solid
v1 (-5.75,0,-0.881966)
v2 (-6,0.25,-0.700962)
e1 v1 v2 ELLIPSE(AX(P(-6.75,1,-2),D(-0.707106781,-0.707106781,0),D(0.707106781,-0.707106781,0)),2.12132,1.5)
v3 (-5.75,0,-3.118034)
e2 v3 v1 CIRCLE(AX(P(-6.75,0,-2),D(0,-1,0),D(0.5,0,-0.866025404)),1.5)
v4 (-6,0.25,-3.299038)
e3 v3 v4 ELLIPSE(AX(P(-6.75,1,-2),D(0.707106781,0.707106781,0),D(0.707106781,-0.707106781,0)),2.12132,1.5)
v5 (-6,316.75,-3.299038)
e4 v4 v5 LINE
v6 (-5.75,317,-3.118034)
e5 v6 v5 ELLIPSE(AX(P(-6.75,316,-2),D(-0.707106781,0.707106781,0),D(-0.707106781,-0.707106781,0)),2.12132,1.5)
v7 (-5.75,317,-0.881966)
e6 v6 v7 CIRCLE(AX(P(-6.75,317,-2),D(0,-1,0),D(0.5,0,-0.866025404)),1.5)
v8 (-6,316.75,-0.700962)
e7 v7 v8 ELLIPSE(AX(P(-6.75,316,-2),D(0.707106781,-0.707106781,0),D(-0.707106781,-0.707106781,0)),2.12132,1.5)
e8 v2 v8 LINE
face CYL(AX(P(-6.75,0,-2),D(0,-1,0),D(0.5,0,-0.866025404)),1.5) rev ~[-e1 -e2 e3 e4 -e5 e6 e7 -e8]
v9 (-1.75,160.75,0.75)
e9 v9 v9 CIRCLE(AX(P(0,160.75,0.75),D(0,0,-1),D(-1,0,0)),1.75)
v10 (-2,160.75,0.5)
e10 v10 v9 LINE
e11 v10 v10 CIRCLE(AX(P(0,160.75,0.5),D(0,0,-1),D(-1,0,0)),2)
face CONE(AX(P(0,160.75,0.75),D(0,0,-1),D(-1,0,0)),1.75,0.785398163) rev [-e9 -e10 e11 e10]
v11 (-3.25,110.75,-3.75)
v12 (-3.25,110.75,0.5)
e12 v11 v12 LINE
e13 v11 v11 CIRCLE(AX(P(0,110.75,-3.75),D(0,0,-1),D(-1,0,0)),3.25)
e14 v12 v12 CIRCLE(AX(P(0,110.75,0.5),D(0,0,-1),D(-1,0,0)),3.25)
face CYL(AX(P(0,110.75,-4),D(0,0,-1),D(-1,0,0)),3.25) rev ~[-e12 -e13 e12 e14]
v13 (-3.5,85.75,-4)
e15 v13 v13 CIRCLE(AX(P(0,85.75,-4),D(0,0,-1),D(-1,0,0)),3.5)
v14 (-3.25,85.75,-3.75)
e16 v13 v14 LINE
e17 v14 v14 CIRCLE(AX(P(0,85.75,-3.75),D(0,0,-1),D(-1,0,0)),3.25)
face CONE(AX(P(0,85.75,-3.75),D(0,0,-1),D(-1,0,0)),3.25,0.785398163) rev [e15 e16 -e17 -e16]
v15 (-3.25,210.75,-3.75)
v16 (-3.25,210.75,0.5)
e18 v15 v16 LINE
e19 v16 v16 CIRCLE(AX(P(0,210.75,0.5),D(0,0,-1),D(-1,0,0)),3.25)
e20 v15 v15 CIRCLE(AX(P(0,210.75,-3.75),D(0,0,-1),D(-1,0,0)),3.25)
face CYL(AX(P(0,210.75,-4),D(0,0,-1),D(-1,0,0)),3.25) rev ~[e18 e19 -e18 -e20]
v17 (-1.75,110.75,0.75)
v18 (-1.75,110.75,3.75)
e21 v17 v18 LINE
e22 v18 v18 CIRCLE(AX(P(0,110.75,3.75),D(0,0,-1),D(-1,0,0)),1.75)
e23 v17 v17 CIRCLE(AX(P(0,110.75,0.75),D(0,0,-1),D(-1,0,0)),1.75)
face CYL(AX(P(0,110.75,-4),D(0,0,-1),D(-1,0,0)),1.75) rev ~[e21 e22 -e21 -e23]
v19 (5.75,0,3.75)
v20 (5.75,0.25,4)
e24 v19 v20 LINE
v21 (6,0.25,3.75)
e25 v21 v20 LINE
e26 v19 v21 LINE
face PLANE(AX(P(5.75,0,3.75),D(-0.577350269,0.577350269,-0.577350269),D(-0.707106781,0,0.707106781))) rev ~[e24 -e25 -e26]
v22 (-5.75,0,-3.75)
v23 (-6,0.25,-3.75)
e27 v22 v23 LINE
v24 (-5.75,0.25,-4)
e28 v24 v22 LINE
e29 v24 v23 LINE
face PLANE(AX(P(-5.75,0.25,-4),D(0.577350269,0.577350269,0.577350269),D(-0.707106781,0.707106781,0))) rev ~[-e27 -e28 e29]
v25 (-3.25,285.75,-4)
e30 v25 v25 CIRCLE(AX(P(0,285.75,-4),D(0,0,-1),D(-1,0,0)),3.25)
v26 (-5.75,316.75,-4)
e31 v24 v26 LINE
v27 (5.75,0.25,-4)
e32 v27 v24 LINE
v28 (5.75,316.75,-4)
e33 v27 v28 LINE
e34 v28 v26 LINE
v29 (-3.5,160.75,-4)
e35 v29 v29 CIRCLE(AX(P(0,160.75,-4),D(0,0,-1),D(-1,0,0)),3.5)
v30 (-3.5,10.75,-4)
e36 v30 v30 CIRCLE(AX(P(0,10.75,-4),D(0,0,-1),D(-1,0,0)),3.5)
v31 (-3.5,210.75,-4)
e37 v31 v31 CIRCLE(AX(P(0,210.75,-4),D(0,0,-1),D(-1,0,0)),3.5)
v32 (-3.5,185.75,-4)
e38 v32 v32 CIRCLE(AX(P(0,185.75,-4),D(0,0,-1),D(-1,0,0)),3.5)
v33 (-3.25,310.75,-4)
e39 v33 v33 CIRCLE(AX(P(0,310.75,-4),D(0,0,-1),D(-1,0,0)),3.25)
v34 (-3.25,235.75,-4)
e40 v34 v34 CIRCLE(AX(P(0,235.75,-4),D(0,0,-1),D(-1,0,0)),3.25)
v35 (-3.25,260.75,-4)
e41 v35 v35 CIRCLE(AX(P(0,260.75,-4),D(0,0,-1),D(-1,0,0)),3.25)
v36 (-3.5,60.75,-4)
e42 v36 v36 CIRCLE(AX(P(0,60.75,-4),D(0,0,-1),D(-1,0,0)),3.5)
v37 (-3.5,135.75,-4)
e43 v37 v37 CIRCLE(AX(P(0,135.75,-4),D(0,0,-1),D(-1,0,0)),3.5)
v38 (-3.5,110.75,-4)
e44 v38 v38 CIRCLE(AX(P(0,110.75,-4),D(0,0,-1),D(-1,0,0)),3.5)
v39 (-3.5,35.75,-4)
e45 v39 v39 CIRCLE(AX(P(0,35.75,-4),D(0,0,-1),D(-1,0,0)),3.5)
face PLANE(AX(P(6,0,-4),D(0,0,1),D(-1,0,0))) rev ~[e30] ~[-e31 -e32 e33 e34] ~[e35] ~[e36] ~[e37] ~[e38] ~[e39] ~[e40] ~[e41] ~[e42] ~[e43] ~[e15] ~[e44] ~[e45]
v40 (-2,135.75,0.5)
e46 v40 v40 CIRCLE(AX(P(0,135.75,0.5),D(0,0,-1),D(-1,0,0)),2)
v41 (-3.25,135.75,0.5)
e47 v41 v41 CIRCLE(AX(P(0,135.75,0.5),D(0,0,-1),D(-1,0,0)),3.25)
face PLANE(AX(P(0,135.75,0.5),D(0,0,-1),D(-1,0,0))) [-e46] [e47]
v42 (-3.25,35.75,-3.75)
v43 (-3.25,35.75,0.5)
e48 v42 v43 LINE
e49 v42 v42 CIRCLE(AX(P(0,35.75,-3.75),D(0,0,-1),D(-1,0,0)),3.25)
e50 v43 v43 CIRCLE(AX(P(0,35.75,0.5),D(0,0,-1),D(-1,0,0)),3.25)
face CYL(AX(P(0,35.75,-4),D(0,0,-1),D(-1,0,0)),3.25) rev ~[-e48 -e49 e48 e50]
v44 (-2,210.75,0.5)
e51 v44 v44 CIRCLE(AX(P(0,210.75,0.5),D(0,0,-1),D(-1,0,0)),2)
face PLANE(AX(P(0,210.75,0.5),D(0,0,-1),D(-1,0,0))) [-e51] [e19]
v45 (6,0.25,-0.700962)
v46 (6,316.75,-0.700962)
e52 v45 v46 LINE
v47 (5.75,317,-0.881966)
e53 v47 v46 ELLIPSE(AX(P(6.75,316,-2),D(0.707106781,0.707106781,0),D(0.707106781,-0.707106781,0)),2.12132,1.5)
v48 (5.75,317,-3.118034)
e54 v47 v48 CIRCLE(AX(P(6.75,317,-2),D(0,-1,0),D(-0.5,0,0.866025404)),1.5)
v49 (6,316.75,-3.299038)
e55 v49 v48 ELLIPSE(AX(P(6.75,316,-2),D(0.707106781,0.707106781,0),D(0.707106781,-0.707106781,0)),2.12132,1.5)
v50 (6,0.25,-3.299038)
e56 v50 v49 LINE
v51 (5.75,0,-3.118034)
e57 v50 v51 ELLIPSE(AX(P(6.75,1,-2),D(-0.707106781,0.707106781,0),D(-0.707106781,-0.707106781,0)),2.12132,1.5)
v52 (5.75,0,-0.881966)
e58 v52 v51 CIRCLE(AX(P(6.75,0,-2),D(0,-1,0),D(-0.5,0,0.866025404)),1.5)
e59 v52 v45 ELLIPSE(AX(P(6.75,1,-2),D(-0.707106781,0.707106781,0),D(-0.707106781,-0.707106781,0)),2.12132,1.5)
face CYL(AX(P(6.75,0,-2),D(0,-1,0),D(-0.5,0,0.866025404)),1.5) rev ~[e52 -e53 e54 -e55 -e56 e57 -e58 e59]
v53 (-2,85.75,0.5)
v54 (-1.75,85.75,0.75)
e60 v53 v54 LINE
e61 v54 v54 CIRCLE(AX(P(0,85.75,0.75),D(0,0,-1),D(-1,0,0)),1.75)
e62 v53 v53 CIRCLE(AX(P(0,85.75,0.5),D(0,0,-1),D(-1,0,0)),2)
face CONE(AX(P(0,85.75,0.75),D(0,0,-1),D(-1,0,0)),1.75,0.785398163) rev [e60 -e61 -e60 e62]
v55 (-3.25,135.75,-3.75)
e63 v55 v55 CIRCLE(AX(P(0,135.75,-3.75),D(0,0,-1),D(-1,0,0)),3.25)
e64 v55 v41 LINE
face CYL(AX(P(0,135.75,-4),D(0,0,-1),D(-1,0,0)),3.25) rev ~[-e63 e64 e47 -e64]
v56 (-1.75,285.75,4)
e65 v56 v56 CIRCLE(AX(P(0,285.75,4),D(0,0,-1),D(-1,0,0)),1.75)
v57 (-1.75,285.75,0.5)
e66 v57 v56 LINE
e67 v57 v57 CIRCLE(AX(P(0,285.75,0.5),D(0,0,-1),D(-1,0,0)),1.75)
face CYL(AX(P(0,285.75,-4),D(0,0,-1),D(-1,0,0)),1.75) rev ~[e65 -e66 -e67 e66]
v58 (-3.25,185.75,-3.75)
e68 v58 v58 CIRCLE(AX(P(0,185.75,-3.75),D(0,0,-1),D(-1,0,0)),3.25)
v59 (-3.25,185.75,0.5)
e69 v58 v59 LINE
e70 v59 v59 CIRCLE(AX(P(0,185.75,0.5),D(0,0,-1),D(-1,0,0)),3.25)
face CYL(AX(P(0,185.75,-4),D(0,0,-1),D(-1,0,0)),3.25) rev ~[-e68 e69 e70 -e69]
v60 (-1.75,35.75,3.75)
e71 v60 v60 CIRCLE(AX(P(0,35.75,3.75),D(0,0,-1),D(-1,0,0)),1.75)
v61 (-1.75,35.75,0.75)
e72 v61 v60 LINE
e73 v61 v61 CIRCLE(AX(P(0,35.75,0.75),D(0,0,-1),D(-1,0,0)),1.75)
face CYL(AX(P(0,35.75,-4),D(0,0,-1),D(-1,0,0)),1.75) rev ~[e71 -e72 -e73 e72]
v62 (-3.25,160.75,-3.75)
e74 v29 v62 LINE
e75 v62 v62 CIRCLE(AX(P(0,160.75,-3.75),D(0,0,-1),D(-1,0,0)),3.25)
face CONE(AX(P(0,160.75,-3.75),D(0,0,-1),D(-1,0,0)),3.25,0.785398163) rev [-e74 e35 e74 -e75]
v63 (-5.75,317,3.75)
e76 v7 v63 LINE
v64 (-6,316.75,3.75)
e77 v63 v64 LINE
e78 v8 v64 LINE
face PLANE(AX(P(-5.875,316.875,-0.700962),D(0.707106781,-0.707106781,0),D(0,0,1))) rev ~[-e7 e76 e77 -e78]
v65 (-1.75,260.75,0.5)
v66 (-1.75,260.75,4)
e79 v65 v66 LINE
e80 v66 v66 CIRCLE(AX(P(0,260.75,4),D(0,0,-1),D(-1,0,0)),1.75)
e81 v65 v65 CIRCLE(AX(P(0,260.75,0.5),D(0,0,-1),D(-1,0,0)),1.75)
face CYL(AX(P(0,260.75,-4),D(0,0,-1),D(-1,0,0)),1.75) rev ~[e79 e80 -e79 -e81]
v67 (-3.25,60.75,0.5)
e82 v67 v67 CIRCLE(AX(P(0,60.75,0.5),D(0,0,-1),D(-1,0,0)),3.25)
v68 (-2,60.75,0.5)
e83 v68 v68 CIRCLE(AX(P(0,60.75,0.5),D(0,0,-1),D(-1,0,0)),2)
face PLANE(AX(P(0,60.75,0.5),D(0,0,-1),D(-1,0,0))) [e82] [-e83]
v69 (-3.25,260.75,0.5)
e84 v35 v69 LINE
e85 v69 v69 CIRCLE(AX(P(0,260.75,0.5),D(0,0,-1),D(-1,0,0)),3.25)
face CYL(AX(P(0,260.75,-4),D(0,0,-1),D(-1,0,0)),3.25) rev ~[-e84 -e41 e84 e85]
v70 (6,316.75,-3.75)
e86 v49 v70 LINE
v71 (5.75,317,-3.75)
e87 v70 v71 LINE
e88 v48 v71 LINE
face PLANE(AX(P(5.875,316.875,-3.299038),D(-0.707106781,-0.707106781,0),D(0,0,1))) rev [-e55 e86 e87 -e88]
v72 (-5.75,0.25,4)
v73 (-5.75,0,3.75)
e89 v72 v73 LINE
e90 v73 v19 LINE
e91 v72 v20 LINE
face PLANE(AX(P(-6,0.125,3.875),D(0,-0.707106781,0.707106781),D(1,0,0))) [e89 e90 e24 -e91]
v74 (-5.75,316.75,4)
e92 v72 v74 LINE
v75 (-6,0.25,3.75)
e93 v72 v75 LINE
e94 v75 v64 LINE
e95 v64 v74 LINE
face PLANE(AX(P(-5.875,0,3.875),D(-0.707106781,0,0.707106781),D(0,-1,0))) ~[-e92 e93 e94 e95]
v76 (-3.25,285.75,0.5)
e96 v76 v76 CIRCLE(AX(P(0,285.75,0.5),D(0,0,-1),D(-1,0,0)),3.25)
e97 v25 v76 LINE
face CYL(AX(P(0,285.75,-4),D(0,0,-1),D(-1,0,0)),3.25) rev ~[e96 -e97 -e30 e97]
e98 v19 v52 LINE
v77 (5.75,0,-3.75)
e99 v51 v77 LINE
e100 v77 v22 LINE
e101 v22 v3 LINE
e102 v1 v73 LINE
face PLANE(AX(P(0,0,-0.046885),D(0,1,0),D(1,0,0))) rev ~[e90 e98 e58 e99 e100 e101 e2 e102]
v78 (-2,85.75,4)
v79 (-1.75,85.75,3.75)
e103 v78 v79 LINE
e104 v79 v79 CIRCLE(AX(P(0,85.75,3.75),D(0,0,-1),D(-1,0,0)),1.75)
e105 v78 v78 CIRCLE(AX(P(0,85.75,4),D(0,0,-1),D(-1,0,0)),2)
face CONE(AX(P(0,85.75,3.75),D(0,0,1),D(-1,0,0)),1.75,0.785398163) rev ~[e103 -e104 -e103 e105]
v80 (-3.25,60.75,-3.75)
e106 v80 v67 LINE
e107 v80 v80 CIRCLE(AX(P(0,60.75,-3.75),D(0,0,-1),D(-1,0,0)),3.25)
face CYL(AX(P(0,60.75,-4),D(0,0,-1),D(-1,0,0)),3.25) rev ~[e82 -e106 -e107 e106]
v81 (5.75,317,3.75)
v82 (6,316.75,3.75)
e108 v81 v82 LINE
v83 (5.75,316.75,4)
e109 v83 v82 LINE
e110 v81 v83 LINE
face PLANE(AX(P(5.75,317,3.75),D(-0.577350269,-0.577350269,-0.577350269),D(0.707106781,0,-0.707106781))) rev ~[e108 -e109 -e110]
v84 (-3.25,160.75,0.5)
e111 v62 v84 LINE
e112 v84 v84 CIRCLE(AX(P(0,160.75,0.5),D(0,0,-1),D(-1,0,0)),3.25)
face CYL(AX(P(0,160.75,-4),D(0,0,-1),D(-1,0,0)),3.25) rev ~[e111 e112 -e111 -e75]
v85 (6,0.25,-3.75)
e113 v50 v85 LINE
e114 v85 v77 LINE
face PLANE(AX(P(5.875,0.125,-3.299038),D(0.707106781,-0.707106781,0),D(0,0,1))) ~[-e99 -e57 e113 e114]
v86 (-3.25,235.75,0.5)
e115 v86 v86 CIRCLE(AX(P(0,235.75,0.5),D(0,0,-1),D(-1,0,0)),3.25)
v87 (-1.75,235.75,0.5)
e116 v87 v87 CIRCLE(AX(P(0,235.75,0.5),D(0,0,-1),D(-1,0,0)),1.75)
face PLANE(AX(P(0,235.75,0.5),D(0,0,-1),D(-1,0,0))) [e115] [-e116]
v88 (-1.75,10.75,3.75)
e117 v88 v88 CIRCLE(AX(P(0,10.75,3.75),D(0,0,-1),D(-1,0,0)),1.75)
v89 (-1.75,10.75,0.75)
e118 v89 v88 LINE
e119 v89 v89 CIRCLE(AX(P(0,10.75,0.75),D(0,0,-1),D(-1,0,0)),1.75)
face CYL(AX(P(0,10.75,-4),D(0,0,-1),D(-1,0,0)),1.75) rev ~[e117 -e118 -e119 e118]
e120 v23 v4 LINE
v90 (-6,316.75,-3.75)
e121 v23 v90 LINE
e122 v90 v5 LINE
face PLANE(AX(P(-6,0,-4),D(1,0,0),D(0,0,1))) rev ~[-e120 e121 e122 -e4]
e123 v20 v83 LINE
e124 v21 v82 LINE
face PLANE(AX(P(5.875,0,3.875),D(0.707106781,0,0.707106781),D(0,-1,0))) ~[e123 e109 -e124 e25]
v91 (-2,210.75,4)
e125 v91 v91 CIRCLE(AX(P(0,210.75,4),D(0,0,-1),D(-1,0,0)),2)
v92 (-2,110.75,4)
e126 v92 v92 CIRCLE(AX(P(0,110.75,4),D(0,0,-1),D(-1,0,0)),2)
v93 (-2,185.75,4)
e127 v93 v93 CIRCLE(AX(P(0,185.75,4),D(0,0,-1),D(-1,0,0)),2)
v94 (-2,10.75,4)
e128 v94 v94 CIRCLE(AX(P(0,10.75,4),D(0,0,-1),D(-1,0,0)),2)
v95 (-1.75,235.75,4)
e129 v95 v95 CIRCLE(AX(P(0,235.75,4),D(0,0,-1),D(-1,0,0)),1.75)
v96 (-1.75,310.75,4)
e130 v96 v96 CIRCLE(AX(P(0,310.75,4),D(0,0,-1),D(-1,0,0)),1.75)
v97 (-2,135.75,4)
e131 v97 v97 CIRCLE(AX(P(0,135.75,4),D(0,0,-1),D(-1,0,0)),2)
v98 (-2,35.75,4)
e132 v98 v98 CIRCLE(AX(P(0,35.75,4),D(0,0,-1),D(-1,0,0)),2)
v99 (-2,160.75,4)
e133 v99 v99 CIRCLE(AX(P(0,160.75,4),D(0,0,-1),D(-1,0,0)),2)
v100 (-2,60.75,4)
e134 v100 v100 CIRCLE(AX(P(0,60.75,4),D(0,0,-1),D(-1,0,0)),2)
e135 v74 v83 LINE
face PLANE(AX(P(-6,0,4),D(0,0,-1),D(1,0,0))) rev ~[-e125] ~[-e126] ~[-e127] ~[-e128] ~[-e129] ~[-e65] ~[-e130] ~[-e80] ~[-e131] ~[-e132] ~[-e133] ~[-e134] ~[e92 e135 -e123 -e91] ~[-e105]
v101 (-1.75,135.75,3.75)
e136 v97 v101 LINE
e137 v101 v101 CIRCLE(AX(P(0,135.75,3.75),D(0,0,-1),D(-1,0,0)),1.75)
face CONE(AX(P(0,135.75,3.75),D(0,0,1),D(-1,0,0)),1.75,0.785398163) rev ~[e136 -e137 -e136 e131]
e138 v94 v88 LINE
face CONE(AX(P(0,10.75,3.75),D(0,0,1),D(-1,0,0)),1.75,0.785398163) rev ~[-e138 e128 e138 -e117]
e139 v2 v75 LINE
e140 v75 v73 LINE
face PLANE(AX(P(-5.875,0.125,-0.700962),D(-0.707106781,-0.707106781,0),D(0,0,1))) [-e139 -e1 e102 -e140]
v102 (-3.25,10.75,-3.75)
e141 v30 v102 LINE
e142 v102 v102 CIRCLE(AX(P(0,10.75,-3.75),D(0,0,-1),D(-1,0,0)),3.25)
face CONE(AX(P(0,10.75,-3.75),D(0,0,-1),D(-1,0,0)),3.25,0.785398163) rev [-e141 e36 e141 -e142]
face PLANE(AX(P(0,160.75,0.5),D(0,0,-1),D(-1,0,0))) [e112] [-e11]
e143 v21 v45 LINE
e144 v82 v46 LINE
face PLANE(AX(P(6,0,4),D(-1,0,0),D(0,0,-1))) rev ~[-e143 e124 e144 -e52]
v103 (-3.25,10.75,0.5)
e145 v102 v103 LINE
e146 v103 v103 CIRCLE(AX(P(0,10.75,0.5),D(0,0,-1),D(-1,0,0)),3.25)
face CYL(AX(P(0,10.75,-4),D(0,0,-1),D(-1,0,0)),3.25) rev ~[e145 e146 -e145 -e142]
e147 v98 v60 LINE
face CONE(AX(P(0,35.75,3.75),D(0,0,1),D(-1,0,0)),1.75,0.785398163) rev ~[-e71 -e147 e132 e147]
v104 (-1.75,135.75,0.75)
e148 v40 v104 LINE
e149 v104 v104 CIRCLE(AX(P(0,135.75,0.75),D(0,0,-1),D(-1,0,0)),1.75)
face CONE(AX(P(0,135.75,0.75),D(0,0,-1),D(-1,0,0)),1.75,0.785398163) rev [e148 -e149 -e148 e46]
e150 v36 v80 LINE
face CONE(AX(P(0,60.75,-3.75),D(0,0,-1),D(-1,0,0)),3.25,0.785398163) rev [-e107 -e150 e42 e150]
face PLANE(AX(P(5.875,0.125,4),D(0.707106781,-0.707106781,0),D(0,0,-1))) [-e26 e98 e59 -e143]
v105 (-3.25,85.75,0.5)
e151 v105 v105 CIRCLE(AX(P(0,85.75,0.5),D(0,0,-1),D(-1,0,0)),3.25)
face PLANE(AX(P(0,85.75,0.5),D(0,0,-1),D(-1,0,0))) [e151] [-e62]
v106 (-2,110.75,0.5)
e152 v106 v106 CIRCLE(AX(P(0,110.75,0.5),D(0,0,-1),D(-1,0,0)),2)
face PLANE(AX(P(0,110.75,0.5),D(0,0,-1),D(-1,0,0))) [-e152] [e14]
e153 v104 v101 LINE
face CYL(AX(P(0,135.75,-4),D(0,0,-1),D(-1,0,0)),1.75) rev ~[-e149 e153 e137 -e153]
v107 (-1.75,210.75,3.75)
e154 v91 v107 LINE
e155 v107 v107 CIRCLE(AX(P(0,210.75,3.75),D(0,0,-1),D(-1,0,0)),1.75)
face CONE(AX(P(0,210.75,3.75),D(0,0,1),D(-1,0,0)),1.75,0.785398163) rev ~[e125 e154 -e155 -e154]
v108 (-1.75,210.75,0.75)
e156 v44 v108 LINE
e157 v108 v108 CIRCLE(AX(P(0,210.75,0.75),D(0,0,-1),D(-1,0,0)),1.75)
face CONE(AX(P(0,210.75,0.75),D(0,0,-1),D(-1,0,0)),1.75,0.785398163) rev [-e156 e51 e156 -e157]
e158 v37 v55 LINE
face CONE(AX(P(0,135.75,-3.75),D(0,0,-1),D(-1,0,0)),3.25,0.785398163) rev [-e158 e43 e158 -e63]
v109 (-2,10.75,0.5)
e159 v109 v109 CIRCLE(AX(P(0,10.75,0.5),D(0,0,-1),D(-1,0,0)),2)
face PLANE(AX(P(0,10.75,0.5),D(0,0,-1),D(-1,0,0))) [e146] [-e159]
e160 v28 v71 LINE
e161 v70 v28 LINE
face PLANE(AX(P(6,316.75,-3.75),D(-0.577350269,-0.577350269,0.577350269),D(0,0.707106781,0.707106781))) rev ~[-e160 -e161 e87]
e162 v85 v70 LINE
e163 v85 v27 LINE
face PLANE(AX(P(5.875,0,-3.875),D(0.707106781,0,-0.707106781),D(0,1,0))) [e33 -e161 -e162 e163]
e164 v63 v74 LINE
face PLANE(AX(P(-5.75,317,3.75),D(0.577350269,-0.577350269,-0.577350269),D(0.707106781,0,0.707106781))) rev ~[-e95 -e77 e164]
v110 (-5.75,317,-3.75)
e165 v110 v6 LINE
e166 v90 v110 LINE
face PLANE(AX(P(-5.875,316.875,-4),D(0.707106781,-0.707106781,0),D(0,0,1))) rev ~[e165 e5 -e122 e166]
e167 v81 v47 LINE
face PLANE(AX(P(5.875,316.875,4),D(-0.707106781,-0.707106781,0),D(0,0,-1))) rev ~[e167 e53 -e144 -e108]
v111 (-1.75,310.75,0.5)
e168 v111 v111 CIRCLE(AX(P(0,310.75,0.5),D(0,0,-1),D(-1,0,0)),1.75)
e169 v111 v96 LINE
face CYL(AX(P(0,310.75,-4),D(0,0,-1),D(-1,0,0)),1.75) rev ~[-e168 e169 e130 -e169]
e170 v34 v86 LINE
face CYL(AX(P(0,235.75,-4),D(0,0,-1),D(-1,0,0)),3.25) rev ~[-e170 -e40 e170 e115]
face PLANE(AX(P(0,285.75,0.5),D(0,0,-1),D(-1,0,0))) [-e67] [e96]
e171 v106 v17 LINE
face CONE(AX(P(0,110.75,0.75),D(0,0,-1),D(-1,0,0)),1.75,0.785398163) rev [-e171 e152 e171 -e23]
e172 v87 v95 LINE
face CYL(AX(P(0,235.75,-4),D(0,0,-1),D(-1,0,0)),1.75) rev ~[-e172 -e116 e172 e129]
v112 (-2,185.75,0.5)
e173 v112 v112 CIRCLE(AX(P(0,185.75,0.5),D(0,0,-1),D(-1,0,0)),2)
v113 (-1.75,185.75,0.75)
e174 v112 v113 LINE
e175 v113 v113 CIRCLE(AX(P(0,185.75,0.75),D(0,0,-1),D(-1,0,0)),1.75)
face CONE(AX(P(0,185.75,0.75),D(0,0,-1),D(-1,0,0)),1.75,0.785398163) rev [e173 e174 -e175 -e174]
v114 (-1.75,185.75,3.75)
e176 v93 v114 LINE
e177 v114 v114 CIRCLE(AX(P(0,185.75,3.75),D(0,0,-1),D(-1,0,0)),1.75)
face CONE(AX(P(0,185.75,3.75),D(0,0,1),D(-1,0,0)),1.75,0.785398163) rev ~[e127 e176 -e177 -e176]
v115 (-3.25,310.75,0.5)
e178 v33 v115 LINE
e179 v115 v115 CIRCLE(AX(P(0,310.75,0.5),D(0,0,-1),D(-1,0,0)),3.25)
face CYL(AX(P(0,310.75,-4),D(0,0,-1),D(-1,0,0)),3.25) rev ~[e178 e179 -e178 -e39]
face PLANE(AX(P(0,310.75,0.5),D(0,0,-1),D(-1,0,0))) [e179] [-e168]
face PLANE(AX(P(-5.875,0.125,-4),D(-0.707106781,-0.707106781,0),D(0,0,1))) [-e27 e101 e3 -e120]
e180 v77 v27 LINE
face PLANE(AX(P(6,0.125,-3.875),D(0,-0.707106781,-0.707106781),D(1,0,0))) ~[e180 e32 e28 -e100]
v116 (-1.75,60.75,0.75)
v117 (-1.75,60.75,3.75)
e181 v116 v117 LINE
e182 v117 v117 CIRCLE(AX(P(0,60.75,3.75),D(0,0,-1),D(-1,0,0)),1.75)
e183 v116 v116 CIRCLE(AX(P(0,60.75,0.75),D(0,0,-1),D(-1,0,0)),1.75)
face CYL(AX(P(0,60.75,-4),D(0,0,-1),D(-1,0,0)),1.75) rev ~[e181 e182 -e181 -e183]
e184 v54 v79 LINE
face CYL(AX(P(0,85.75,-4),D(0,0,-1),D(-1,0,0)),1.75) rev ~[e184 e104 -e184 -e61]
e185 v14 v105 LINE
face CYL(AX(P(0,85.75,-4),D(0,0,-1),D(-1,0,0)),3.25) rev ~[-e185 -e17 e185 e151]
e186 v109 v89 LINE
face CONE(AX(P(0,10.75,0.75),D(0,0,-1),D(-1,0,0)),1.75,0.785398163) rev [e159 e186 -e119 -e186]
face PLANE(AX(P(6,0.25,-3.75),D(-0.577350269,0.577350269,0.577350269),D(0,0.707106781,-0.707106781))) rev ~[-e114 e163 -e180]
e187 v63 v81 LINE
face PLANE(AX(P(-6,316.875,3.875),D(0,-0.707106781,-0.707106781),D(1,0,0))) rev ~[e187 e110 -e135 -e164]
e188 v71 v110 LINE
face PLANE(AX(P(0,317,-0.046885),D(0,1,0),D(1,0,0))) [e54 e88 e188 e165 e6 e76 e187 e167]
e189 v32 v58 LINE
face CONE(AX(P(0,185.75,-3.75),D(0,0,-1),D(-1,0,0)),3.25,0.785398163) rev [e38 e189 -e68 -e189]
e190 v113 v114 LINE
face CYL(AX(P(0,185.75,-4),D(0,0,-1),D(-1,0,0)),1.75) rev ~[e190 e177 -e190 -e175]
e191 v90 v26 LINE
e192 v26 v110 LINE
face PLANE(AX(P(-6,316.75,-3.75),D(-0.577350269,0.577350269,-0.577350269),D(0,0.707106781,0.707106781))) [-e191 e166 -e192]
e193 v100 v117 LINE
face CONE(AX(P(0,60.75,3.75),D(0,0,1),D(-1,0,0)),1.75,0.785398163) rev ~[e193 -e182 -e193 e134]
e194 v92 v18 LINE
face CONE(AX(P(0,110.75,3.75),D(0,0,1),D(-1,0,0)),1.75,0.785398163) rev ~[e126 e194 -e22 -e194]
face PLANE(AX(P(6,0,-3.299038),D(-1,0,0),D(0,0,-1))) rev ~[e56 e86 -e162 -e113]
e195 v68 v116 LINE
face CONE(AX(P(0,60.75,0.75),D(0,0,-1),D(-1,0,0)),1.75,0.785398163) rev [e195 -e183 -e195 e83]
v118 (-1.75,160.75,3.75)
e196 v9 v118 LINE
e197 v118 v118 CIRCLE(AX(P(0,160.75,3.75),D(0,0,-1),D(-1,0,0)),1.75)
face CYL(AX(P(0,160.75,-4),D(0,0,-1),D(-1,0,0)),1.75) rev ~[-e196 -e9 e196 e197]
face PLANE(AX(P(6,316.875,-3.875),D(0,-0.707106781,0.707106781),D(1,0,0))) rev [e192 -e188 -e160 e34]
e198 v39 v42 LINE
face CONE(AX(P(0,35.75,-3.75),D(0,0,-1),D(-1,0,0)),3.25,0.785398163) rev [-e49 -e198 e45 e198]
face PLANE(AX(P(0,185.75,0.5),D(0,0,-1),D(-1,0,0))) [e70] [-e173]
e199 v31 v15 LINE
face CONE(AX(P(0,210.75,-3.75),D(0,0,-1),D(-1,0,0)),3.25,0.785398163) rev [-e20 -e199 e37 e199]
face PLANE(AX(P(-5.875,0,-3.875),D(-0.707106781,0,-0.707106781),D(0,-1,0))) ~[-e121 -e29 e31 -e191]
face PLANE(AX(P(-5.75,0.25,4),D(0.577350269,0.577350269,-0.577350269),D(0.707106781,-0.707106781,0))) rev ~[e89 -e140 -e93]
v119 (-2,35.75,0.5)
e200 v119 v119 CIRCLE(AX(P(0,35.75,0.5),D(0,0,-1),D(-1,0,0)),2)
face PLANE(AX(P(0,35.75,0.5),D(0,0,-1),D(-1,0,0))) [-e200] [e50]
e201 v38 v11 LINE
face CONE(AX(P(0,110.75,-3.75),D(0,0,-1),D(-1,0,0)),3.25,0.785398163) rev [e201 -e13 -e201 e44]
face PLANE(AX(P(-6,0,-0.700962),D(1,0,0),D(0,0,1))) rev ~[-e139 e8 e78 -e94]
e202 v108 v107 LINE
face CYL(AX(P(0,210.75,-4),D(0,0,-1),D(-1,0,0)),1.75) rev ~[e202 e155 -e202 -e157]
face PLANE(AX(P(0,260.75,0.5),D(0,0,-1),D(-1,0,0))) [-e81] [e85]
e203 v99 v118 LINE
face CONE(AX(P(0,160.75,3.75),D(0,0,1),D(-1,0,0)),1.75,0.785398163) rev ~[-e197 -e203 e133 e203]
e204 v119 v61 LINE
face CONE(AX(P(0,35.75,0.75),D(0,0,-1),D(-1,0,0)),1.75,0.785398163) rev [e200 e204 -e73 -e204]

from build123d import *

# Parameters (mm, degrees)
BOSS_EXTRUDE1_DEPTH = 317
SKETCH3_R           = 1.75
CUT_EXTRUDE3_DEPTH  = 8.5
SKETCH3_6_R         = 3.25
SKETCH3_6_R_2       = 1.75
CUT_EXTRUDE4_DEPTH  = 4.5
CHAMFER3_SIZE       = 0.25


with BuildPart() as part:
    # Sketch1 → Boss-Extrude1 (new body)
    with BuildSketch(Plane(origin=(0, 0, 0), x_dir=(1, 0, 0), z_dir=(0, 1, 0))):
        with BuildLine():
            Line((6, 4), (-6, 4))
            Line((-6, 4), (-6, 3.299038106))
            ThreePointArc((-6, 3.299038106), (-5.25, 2), (-6, 0.700961894))
            Line((-6, 0.700961894), (-6, -4))
            Line((-6, -4), (6, -4))
            Line((6, -4), (6, 0.700961894))
            ThreePointArc((6, 0.700961894), (5.25, 2), (6, 3.299038106))
            Line((6, 3.299038106), (6, 4))
        make_face()
    extrude(amount=BOSS_EXTRUDE1_DEPTH)

    # Sketch3 → Cut-Extrude3 (cut)
    with BuildSketch(Plane(origin=(0, 0, -4), x_dir=(-1, 0, 0), z_dir=(0, 0, -1))):
        with Locations((0, 335.75)):
            Circle(SKETCH3_R)
        with Locations((0, 310.75)):
            Circle(SKETCH3_R)
        with Locations((0, 285.75)):
            Circle(SKETCH3_R)
        with Locations((0, 260.75)):
            Circle(SKETCH3_R)
        with Locations((0, 235.75)):
            Circle(SKETCH3_R)
        with Locations((0, 210.75)):
            Circle(SKETCH3_R)
        with Locations((0, 185.75)):
            Circle(SKETCH3_R)
        with Locations((0, 160.75)):
            Circle(SKETCH3_R)
        with Locations((0, 110.75)):
            Circle(SKETCH3_R)
        with Locations((0, 85.75)):
            Circle(SKETCH3_R)
        with Locations((0, 60.75)):
            Circle(SKETCH3_R)
        with Locations((0, 35.75)):
            Circle(SKETCH3_R)
        with Locations((0, 135.75)):
            Circle(SKETCH3_R)
        with Locations((0, 10.75)):
            Circle(SKETCH3_R)
    extrude(amount=-CUT_EXTRUDE3_DEPTH, mode=Mode.SUBTRACT)

    # Sketch3<6> → Cut-Extrude4 (cut)
    # profile 1 of 14: a face of its own
    with BuildSketch(Plane(origin=(0, 0, -4), x_dir=(-1, 0, 0), z_dir=(0, 0, -1))):
        with Locations((0, 10.75)):
            Circle(SKETCH3_6_R)
        with Locations((0, 10.75)):
            Circle(SKETCH3_6_R_2, mode=Mode.SUBTRACT)
    # profile 2 of 14: a face of its own
    with BuildSketch(Plane(origin=(0, 0, -4), x_dir=(-1, 0, 0), z_dir=(0, 0, -1))):
        with Locations((0, 35.75)):
            Circle(SKETCH3_6_R)
        with Locations((0, 35.75)):
            Circle(SKETCH3_6_R_2, mode=Mode.SUBTRACT)
    # profile 3 of 14: a face of its own
    with BuildSketch(Plane(origin=(0, 0, -4), x_dir=(-1, 0, 0), z_dir=(0, 0, -1))):
        with Locations((0, 60.75)):
            Circle(SKETCH3_6_R)
        with Locations((0, 60.75)):
            Circle(SKETCH3_6_R_2, mode=Mode.SUBTRACT)
    # profile 4 of 14: a face of its own
    with BuildSketch(Plane(origin=(0, 0, -4), x_dir=(-1, 0, 0), z_dir=(0, 0, -1))):
        with Locations((0, 85.75)):
            Circle(SKETCH3_6_R)
        with Locations((0, 85.75)):
            Circle(SKETCH3_6_R_2, mode=Mode.SUBTRACT)
    # profile 5 of 14: a face of its own
    with BuildSketch(Plane(origin=(0, 0, -4), x_dir=(-1, 0, 0), z_dir=(0, 0, -1))):
        with Locations((0, 110.75)):
            Circle(SKETCH3_6_R)
        with Locations((0, 110.75)):
            Circle(SKETCH3_6_R_2, mode=Mode.SUBTRACT)
    # profile 6 of 14: a face of its own
    with BuildSketch(Plane(origin=(0, 0, -4), x_dir=(-1, 0, 0), z_dir=(0, 0, -1))):
        with Locations((0, 135.75)):
            Circle(SKETCH3_6_R)
        with Locations((0, 135.75)):
            Circle(SKETCH3_6_R_2, mode=Mode.SUBTRACT)
    # profile 7 of 14: a face of its own
    with BuildSketch(Plane(origin=(0, 0, -4), x_dir=(-1, 0, 0), z_dir=(0, 0, -1))):
        with Locations((0, 160.75)):
            Circle(SKETCH3_6_R)
        with Locations((0, 160.75)):
            Circle(SKETCH3_6_R_2, mode=Mode.SUBTRACT)
    # profile 8 of 14: a face of its own
    with BuildSketch(Plane(origin=(0, 0, -4), x_dir=(-1, 0, 0), z_dir=(0, 0, -1))):
        with Locations((0, 185.75)):
            Circle(SKETCH3_6_R)
        with Locations((0, 185.75)):
            Circle(SKETCH3_6_R_2, mode=Mode.SUBTRACT)
    # profile 9 of 14: a face of its own
    with BuildSketch(Plane(origin=(0, 0, -4), x_dir=(-1, 0, 0), z_dir=(0, 0, -1))):
        with Locations((0, 210.75)):
            Circle(SKETCH3_6_R)
        with Locations((0, 210.75)):
            Circle(SKETCH3_6_R_2, mode=Mode.SUBTRACT)
    # profile 10 of 14: a face of its own
    with BuildSketch(Plane(origin=(0, 0, -4), x_dir=(-1, 0, 0), z_dir=(0, 0, -1))):
        with Locations((0, 235.75)):
            Circle(SKETCH3_6_R)
        with Locations((0, 235.75)):
            Circle(SKETCH3_6_R_2, mode=Mode.SUBTRACT)
    # profile 11 of 14: a face of its own
    with BuildSketch(Plane(origin=(0, 0, -4), x_dir=(-1, 0, 0), z_dir=(0, 0, -1))):
        with Locations((0, 260.75)):
            Circle(SKETCH3_6_R)
        with Locations((0, 260.75)):
            Circle(SKETCH3_6_R_2, mode=Mode.SUBTRACT)
    # profile 12 of 14: a face of its own
    with BuildSketch(Plane(origin=(0, 0, -4), x_dir=(-1, 0, 0), z_dir=(0, 0, -1))):
        with Locations((0, 285.75)):
            Circle(SKETCH3_6_R)
        with Locations((0, 285.75)):
            Circle(SKETCH3_6_R_2, mode=Mode.SUBTRACT)
    # profile 13 of 14: a face of its own
    with BuildSketch(Plane(origin=(0, 0, -4), x_dir=(-1, 0, 0), z_dir=(0, 0, -1))):
        with Locations((0, 310.75)):
            Circle(SKETCH3_6_R)
        with Locations((0, 310.75)):
            Circle(SKETCH3_6_R_2, mode=Mode.SUBTRACT)
    # profile 14 of 14: a face of its own
    with BuildSketch(Plane(origin=(0, 0, -4), x_dir=(-1, 0, 0), z_dir=(0, 0, -1))):
        with Locations((0, 335.75)):
            Circle(SKETCH3_6_R)
        with Locations((0, 335.75)):
            Circle(SKETCH3_6_R_2, mode=Mode.SUBTRACT)
    extrude(amount=-CUT_EXTRUDE4_DEPTH, mode=Mode.SUBTRACT)

    # Chamfer3
    chamfer3_edges = [part.edges().sort_by_distance(p)[0] for p in [
        (-6, 0, 1.649519053),
        (1.75, 35.75, 0.5),
        (3.25, 35.75, -4),
        (-6, 0, -3.649519053),
        (1.75, 60.75, 0.5),
        (3.25, 60.75, -4),
        (1.75, 85.75, 0.5),
        (3.25, 85.75, -4),
        (0, 0, -4),
        (1.75, 110.75, 0.5),
        (3.25, 110.75, -4),
        (6, 0, -3.649519053),
        (1.75, 135.75, 0.5),
        (3.25, 135.75, -4),
        (1.75, 160.75, 0.5),
        (3.25, 160.75, -4),
        (1.75, 185.75, 0.5),
        (3.25, 185.75, -4),
        (1.75, 210.75, 0.5),
        (3.25, 210.75, -4),
        (0, 317, -4),
        (6, 158.5, 4),
        (-6, 158.5, 4),
        (-6, 158.5, -4),
        (6, 158.5, -4),
        (-6, 317, -3.649519053),
        (-6, 317, 1.649519053),
        (0, 317, 4),
        (6, 317, 1.649519053),
        (1.75, 210.75, 4),
        (1.75, 185.75, 4),
        (1.75, 60.75, 4),
        (1.75, 35.75, 4),
        (1.75, 135.75, 4),
        (1.75, 10.75, 4),
        (1.75, 85.75, 4),
        (1.75, 110.75, 4),
        (1.75, 160.75, 4),
        (6, 317, -3.649519053),
        (6, 0, 1.649519053),
        (1.75, 10.75, 0.5),
        (3.25, 10.75, -4),
        (0, 0, 4),
    ]]
    chamfer(chamfer3_edges, length=CHAMFER3_SIZE)


solid = part.part
